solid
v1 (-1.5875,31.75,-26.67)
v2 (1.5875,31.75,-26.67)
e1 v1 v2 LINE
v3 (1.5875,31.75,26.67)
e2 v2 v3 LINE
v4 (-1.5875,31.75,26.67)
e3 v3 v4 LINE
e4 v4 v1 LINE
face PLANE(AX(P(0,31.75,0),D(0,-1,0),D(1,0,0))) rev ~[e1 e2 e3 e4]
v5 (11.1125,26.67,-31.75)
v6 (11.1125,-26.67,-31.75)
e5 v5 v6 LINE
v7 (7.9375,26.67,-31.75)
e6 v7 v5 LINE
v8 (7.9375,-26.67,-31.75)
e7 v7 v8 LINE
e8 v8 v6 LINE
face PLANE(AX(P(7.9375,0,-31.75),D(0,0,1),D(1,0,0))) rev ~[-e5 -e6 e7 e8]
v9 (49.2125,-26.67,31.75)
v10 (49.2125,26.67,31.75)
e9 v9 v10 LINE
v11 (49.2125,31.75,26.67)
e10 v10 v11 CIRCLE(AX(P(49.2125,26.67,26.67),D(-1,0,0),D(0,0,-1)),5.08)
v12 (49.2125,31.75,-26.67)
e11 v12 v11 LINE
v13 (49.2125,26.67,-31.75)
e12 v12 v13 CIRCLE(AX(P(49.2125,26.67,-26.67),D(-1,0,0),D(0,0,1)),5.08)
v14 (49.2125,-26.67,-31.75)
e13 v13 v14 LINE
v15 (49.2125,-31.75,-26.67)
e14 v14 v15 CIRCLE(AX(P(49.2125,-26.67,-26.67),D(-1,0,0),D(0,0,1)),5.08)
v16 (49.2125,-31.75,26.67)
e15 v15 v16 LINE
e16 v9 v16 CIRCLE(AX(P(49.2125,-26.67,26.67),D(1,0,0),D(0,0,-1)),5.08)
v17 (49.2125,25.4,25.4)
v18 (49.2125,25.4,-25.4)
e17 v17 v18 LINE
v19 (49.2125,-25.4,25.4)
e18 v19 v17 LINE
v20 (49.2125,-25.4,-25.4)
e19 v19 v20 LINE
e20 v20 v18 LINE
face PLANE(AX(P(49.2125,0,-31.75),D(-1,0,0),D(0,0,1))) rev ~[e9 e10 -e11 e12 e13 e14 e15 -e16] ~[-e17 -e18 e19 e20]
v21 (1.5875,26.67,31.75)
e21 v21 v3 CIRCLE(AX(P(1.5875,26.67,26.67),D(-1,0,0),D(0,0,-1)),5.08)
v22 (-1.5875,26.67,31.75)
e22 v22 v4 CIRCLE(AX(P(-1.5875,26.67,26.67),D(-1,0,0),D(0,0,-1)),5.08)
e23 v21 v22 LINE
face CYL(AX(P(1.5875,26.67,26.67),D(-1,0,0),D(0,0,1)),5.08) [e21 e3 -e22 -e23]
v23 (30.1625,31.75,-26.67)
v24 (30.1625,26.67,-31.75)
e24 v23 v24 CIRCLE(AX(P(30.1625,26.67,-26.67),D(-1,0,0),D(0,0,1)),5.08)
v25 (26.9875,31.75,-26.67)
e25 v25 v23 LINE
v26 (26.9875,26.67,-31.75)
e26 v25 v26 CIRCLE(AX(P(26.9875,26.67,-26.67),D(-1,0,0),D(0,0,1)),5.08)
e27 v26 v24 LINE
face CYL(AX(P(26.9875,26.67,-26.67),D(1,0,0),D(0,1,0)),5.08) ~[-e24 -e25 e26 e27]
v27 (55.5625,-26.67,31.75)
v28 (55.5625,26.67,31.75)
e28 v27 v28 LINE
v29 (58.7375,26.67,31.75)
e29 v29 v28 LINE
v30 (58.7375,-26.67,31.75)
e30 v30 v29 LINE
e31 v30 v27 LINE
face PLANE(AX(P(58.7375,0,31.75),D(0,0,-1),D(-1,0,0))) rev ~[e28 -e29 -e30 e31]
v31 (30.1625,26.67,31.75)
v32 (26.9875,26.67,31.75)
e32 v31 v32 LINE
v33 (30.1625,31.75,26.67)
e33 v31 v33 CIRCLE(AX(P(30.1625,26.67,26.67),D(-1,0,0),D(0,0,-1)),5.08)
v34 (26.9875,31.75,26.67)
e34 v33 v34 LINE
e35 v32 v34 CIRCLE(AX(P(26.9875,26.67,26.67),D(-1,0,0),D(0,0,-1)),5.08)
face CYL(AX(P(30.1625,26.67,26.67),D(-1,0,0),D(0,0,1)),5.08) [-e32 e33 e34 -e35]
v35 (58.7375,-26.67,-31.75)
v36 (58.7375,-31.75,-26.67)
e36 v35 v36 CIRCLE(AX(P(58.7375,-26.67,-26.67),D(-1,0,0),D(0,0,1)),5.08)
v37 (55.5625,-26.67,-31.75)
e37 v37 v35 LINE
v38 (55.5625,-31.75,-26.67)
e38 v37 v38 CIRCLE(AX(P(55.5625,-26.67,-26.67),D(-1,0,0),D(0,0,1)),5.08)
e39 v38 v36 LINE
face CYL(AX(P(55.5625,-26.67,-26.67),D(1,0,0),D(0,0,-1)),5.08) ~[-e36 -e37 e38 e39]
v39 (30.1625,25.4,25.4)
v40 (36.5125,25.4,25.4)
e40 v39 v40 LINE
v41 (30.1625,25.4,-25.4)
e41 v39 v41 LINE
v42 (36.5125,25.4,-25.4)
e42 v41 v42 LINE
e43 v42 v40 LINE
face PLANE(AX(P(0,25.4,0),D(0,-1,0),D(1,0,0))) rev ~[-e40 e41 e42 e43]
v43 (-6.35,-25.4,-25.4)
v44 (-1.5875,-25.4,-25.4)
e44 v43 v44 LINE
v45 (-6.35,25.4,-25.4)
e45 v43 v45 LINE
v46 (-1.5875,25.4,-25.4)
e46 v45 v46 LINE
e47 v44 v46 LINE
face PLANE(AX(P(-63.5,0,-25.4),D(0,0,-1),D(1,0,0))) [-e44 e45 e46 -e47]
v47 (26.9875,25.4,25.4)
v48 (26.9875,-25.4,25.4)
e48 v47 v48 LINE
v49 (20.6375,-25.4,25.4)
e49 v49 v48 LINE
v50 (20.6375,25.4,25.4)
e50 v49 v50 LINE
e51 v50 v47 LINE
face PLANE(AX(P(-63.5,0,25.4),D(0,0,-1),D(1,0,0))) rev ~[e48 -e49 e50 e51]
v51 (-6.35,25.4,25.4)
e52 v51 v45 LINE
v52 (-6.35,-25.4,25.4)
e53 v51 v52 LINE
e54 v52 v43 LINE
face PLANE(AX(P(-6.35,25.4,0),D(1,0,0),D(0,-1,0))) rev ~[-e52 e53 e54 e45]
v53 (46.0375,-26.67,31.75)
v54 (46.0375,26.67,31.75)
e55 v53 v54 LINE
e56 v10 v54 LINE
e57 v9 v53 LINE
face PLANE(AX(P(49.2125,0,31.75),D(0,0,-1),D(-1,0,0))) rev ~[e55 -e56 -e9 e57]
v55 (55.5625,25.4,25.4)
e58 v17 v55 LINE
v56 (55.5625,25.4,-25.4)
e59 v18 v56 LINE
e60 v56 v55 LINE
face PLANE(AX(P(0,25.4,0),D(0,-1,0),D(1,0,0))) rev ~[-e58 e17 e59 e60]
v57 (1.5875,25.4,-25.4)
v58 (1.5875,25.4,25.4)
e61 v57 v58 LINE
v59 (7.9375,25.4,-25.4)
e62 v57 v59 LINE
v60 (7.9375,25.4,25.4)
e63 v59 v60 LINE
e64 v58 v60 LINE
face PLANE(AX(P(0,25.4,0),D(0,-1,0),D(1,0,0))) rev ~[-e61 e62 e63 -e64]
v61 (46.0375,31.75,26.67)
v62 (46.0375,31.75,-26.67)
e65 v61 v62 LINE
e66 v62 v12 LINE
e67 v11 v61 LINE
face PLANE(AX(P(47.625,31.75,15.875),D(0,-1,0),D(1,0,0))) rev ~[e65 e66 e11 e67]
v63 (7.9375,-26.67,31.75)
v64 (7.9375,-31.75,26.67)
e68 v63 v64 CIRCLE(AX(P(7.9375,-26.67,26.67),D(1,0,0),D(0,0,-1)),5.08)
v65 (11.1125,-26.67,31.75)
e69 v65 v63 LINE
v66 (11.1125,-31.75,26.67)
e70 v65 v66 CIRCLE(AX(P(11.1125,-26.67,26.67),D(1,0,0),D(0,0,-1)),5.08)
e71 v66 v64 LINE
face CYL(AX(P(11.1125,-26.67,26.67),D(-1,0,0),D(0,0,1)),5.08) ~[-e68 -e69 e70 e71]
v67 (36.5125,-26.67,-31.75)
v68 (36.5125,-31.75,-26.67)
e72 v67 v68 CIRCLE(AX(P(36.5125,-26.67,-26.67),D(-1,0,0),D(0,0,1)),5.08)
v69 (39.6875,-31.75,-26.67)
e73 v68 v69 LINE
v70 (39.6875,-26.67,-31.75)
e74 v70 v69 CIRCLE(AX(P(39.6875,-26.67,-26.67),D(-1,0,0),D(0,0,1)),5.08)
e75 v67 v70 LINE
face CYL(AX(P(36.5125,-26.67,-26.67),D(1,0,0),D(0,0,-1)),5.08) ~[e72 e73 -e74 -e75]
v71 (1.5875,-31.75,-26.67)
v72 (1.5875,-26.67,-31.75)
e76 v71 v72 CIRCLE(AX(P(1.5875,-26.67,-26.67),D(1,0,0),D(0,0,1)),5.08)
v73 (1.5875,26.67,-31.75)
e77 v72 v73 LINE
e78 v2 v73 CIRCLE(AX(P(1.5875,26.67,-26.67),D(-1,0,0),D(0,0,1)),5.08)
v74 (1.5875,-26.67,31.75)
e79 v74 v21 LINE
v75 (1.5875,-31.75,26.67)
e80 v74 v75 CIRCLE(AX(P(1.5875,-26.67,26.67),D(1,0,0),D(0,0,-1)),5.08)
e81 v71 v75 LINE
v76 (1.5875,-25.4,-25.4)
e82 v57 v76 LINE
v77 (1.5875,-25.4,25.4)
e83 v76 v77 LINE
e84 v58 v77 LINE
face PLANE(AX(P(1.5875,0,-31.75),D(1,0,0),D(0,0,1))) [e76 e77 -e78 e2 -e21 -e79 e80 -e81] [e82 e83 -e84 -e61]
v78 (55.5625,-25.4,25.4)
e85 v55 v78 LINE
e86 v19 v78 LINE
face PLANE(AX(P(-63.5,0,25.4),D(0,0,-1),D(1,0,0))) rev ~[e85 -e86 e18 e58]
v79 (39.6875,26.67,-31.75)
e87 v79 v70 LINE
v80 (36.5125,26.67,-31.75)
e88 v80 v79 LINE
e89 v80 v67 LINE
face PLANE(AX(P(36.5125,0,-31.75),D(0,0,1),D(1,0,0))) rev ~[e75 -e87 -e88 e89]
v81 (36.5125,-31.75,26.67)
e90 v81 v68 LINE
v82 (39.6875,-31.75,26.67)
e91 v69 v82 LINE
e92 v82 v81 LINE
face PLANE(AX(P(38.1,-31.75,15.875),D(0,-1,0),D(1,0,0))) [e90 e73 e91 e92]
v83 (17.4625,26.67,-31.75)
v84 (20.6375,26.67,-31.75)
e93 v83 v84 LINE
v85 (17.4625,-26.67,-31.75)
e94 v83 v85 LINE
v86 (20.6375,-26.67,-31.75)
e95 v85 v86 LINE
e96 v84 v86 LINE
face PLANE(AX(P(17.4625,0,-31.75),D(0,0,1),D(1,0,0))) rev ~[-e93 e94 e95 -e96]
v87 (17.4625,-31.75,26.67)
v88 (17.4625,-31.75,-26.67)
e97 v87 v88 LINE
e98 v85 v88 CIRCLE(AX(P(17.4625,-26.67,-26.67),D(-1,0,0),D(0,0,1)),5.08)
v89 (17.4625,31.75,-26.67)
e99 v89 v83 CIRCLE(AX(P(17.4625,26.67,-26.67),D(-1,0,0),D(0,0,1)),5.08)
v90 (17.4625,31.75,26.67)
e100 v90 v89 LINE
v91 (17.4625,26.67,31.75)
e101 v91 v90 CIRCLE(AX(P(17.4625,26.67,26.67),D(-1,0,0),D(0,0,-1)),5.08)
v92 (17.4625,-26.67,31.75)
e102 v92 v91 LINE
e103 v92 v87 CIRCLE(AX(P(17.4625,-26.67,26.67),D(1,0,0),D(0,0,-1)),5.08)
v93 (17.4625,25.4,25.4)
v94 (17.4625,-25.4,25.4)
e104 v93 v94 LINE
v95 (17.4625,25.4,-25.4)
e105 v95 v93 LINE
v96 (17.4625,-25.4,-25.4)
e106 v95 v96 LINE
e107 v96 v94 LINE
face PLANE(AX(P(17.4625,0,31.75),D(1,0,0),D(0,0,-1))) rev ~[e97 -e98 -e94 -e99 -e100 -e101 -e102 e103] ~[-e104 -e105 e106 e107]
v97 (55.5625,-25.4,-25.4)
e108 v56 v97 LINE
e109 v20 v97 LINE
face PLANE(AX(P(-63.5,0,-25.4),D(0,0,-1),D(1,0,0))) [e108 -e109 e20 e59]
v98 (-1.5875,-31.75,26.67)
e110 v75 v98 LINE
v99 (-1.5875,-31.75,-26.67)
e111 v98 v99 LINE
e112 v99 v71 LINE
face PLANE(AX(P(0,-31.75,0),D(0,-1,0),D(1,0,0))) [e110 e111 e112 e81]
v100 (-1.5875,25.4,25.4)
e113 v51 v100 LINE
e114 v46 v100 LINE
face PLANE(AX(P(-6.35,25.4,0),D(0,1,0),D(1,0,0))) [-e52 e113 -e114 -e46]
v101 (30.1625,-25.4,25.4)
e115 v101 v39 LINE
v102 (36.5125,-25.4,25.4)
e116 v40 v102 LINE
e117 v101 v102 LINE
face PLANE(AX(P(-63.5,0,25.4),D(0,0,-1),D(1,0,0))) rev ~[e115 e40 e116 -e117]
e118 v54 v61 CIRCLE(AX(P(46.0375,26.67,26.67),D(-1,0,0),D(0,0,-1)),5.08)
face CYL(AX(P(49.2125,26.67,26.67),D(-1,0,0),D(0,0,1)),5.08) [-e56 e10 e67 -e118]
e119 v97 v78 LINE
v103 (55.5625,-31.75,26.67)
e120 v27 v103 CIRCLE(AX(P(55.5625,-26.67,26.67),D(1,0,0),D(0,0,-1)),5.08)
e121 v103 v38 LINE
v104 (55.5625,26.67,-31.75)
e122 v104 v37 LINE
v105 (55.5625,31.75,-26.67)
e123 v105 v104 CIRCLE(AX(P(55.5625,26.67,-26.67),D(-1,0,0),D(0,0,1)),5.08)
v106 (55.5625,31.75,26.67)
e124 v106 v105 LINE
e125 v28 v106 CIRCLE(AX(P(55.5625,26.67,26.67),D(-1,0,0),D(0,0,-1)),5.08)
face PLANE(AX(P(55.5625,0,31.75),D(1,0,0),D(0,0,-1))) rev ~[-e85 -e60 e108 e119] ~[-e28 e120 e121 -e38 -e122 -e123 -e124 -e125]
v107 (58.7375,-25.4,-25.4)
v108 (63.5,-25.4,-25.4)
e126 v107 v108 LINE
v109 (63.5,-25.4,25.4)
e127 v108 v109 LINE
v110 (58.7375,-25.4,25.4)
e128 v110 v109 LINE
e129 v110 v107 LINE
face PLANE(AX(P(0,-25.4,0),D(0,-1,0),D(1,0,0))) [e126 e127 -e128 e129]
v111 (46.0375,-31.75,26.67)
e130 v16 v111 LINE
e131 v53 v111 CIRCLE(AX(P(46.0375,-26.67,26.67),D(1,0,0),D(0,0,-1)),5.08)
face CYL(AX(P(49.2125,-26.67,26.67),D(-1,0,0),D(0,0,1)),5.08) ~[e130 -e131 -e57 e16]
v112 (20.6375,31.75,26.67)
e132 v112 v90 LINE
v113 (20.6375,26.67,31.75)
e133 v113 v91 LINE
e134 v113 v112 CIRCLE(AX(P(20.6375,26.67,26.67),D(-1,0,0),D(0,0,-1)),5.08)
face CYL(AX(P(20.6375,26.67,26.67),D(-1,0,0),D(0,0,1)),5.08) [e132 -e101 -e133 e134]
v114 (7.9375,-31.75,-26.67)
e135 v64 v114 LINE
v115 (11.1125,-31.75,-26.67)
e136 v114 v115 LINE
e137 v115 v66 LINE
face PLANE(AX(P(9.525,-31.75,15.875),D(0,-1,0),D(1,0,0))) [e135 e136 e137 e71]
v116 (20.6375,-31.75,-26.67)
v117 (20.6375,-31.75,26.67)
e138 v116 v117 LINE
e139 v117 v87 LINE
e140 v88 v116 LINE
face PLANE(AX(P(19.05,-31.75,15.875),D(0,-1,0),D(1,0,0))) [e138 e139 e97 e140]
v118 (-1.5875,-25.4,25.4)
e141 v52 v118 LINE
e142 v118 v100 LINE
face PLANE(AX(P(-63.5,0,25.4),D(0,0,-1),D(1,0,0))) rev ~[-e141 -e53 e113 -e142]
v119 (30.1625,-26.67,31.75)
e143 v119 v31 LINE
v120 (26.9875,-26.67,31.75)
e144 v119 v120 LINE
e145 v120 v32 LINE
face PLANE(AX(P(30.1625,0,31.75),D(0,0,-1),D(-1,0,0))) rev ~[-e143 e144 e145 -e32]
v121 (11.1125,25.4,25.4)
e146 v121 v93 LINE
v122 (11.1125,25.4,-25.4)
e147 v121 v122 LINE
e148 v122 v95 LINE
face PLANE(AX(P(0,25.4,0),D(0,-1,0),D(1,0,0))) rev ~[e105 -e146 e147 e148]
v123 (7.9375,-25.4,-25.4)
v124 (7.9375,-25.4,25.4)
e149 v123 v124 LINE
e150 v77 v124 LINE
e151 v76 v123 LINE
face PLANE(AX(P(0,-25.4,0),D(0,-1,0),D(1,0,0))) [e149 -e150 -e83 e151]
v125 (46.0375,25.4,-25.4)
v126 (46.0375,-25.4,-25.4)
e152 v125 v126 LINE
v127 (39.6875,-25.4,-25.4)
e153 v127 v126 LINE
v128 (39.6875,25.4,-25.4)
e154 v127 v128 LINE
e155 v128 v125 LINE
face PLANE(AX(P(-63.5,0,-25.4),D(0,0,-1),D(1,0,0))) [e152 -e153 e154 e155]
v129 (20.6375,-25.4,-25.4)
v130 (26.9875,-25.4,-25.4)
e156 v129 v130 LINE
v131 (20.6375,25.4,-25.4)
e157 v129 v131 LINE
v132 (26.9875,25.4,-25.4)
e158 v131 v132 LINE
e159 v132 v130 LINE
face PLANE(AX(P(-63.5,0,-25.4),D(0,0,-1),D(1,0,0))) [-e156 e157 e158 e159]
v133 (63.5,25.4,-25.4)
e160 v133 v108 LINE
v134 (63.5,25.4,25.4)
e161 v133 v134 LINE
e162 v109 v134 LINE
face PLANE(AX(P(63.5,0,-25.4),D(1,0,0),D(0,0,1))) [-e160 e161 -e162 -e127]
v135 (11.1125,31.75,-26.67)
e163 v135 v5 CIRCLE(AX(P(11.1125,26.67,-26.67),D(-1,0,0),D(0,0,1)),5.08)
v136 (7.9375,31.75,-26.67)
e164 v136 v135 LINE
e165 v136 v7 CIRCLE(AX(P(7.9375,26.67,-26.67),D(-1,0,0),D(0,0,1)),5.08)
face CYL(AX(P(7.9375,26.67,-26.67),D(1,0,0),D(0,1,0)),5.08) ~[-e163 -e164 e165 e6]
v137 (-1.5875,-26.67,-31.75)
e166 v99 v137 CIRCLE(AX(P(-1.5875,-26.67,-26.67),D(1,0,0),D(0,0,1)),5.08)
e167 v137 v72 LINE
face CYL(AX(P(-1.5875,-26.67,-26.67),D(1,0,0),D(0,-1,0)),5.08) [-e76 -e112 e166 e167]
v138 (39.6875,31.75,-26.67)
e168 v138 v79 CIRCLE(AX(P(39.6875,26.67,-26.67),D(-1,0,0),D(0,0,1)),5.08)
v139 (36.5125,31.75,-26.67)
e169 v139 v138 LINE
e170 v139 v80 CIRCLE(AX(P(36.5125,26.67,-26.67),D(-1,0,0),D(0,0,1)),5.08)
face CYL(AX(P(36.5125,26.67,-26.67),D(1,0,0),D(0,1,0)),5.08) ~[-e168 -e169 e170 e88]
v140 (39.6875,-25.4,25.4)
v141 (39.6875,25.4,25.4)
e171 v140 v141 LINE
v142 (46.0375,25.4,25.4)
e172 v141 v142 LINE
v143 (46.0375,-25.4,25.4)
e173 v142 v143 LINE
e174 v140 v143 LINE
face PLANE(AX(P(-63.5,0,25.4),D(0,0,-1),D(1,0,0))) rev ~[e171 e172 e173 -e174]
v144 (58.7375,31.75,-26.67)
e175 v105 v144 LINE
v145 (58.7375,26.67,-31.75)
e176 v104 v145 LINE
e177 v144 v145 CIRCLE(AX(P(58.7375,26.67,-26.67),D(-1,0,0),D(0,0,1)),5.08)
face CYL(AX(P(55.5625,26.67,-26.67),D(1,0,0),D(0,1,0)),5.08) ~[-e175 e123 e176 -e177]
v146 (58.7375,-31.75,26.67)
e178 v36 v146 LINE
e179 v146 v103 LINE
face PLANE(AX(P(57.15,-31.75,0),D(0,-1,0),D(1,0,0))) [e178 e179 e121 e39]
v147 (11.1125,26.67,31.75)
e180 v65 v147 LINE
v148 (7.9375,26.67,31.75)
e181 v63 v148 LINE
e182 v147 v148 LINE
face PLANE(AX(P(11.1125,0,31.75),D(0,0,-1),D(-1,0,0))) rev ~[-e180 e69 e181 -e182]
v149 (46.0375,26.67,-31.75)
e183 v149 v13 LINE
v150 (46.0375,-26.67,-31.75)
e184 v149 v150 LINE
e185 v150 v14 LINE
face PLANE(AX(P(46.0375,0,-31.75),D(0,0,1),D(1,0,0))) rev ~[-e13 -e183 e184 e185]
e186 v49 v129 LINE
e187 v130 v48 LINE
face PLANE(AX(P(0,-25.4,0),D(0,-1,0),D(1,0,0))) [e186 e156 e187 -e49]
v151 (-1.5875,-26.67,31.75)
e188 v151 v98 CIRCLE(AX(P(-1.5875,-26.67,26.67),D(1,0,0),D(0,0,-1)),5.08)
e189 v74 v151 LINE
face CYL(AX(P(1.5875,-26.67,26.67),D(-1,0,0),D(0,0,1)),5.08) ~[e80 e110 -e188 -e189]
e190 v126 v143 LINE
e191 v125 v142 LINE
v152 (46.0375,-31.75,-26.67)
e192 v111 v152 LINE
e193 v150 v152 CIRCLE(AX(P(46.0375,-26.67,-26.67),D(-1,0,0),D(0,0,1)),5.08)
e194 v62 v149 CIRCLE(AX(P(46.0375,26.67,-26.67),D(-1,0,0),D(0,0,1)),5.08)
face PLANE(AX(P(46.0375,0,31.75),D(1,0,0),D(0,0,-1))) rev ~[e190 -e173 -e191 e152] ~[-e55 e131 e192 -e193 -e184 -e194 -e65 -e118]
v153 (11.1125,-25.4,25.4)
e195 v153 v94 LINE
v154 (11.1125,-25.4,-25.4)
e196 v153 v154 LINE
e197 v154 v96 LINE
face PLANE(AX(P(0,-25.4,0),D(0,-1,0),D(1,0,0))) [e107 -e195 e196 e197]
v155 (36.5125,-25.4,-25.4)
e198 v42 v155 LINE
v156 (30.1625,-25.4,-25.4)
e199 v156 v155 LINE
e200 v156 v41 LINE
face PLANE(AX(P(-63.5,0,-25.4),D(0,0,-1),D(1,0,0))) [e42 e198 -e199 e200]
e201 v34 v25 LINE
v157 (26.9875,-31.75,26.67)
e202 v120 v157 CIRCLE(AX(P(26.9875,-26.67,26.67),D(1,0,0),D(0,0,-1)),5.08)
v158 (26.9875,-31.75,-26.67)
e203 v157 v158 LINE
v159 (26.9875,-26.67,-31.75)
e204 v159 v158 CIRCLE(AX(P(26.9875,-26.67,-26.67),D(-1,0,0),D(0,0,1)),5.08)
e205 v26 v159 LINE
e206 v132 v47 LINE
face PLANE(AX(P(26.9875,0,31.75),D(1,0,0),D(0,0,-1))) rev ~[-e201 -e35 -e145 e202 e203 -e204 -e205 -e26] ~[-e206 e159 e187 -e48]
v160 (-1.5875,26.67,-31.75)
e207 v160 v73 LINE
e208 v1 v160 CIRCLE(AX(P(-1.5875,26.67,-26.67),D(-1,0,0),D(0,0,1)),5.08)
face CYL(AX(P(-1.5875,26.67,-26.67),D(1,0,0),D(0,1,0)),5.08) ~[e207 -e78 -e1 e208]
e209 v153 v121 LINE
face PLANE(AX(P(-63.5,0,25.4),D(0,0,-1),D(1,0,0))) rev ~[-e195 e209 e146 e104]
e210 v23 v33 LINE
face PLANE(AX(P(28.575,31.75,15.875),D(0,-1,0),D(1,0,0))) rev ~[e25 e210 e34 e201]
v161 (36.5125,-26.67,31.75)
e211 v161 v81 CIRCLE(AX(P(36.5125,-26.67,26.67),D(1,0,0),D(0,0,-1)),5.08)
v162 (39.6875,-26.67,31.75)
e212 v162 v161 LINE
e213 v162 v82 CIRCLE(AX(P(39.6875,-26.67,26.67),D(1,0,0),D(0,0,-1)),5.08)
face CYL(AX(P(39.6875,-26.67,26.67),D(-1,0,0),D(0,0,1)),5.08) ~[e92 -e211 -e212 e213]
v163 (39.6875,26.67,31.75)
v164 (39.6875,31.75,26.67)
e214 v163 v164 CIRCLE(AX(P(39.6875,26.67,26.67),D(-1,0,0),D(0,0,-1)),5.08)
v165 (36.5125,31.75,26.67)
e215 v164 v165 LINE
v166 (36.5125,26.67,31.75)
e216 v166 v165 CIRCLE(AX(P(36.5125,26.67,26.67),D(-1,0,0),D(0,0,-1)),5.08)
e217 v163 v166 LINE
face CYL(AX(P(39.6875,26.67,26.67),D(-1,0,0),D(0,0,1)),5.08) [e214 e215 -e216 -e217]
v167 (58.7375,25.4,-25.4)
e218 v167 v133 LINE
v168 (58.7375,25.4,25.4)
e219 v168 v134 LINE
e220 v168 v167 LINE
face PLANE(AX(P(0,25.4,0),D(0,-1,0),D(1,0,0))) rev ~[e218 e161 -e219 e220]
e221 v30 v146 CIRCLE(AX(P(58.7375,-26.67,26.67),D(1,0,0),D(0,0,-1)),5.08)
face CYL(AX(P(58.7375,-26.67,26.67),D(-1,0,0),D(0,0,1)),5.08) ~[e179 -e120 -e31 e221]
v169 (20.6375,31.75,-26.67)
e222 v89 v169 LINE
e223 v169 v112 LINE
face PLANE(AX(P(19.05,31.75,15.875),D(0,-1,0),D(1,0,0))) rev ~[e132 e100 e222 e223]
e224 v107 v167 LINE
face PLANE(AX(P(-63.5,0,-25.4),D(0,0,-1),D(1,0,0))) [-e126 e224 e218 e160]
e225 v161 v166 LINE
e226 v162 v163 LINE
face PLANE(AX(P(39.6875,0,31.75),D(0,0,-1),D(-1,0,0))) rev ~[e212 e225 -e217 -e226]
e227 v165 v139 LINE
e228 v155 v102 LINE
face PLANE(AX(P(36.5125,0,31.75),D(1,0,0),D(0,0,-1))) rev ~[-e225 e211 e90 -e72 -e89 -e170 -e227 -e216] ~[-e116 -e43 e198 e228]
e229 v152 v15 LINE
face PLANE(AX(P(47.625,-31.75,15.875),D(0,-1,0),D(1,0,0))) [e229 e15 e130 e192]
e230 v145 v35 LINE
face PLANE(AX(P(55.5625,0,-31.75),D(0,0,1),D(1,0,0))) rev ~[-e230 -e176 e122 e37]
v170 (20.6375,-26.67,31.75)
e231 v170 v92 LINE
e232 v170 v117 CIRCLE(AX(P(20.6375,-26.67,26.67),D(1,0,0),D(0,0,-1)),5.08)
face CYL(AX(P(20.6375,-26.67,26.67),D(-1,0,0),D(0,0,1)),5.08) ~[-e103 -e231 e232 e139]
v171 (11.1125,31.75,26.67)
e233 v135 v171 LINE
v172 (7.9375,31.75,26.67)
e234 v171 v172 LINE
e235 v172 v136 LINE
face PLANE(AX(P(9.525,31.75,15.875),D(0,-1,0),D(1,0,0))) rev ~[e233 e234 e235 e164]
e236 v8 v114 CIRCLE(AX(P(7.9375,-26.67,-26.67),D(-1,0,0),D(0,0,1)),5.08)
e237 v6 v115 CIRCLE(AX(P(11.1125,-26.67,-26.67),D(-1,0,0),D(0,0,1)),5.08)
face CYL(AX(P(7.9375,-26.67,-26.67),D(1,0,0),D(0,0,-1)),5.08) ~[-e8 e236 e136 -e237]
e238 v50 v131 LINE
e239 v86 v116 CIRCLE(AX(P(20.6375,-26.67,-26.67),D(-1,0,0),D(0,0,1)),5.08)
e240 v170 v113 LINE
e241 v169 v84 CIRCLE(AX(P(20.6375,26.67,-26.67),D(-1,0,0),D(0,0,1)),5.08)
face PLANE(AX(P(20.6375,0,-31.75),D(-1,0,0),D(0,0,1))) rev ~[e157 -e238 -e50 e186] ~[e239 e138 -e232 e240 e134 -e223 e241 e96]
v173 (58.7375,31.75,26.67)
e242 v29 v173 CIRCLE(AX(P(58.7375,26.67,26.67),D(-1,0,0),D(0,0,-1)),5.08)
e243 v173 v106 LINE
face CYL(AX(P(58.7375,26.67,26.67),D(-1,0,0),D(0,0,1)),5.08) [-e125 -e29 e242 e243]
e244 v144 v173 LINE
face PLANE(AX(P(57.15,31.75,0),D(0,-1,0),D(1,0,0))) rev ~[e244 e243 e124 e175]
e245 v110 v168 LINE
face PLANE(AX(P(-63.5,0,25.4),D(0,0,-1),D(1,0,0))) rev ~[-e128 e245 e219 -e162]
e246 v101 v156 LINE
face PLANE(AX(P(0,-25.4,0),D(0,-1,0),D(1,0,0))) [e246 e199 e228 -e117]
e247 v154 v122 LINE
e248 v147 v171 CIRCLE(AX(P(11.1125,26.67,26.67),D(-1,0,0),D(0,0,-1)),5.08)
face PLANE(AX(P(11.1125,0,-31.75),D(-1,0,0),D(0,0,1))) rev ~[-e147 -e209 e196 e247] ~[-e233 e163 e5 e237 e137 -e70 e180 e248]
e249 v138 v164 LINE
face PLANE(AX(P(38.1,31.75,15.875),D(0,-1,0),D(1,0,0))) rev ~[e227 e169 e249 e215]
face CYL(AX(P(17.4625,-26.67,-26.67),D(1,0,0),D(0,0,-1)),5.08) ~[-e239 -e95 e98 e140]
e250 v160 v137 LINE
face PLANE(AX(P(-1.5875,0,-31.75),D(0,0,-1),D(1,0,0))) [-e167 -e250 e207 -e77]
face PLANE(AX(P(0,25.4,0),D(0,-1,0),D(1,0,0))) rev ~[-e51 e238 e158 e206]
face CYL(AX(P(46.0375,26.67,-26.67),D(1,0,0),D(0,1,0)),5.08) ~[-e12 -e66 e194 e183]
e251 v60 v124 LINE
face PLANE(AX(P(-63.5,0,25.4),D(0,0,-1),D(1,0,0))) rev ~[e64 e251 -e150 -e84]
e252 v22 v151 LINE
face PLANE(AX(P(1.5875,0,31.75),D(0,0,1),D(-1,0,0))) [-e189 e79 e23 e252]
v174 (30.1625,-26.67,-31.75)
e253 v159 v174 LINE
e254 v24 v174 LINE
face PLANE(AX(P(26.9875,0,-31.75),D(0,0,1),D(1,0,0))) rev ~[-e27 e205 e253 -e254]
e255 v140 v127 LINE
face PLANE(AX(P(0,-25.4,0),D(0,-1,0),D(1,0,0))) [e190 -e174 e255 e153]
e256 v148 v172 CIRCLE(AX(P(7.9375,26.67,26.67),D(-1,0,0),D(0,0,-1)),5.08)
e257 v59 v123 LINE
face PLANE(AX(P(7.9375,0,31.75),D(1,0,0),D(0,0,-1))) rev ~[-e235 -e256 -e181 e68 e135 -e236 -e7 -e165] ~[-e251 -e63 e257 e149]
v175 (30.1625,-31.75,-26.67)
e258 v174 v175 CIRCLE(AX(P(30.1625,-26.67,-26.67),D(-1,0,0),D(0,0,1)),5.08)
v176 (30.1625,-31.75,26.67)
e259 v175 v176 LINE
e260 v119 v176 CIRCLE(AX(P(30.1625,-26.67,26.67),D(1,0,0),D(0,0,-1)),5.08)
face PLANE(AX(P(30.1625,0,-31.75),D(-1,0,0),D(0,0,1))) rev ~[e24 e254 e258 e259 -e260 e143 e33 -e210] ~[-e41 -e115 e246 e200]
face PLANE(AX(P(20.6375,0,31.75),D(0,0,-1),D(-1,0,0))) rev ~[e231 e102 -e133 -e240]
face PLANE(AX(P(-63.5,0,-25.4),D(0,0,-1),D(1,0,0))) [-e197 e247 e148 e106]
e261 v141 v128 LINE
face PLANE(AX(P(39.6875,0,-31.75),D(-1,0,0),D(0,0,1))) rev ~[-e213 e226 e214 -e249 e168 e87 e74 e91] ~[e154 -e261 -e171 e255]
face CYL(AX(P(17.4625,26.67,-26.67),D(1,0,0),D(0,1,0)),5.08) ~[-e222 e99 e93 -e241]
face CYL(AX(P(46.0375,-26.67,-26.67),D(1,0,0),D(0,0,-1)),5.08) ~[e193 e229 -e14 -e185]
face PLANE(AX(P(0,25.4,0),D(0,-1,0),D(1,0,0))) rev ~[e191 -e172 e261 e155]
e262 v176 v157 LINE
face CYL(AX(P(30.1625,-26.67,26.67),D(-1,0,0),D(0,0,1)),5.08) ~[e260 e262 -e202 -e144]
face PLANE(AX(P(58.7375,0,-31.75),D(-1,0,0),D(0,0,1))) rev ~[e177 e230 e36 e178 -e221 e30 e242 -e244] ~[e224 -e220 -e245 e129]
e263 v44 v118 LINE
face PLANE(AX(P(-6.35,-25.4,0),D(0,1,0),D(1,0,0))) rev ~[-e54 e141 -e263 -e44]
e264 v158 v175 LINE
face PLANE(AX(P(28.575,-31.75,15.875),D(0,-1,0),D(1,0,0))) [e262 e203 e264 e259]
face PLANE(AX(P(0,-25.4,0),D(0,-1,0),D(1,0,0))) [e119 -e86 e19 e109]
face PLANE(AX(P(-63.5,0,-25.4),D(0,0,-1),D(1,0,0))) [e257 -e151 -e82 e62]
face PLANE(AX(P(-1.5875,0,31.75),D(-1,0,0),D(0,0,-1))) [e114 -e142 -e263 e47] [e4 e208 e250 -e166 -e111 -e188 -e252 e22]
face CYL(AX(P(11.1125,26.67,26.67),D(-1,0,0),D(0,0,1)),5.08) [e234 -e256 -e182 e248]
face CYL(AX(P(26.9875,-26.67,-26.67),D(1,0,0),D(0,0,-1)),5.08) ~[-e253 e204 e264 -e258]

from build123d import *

# Parameters (mm, degrees)
F0_W      = 127
F0_H      = 50.8
F1_DEPTH  = 25.4
F3_DEPTH  = 31.75
F4_R      = 5.08
F5_R      = 5.08
F6_R      = 5.08
F7_R      = 5.08
F9_DEPTH  = 25.4
F8_W      = 57.15
F8_H      = 25.4
F10_DEPTH = 25.4
F11_W     = 57.15
F11_H     = 25.4
F12_DEPTH = 25.4
F13_DEPTH = 25.4
F14_R     = 5.08


with BuildPart() as f1:
    # F0 (on Front) → F1 (new body, symmetric)
    with BuildSketch(Plane.XZ):
        Rectangle(F0_W, F0_H)
    extrude(amount=F1_DEPTH, both=True)

    # F2 (on Front) → F3 (join, symmetric)
    with BuildSketch(Plane.XZ):
        Polygon((55.5625, 31.75), (55.5625, 0), (55.5625, -31.75), (58.7375, -31.75), (58.7375, 31.75), align=None)
        Polygon((46.0375, 31.75), (46.0375, 0), (47.625, 0), (49.2125, 0), (49.2125, 31.75), align=None)
        Polygon((36.5125, 31.75), (36.5125, 0), (38.1, 0), (39.6875, 0), (39.6875, 31.75), align=None)
        Polygon((26.9875, 31.75), (26.9875, 0), (28.575, 0), (30.1625, 0), (30.1625, 31.75), align=None)
        Polygon((17.4625, 31.75), (17.4625, 0), (19.05, 0), (20.6375, 0), (20.6375, 31.75), align=None)
        Polygon((7.9375, 31.75), (7.9375, 0), (9.525, 0), (11.1125, 0), (11.1125, 31.75), align=None)
        Polygon((1.5875, 31.75), (-1.5875, 31.75), (-1.5875, -31.75), (1.5875, -31.75), (1.5875, 0), align=None)
        Polygon((9.525, 0), (7.9375, 0), (7.9375, -31.75), (11.1125, -31.75), (11.1125, 0), align=None)
        Polygon((19.05, 0), (17.4625, 0), (17.4625, -31.75), (20.6375, -31.75), (20.6375, 0), align=None)
        Polygon((28.575, 0), (26.9875, 0), (26.9875, -31.75), (30.1625, -31.75), (30.1625, 0), align=None)
        Polygon((38.1, 0), (36.5125, 0), (36.5125, -31.75), (39.6875, -31.75), (39.6875, 0), align=None)
        Polygon((47.625, 0), (46.0375, 0), (46.0375, -31.75), (49.2125, -31.75), (49.2125, 0), align=None)
    extrude(amount=F3_DEPTH, both=True)

    # F4
    f4_edges = [f1.edges().sort_by_distance(p)[0] for p in [
        (0, -31.75, 31.75),
        (9.525, -31.75, 31.75),
        (19.05, -31.75, 31.75),
        (28.575, -31.75, 31.75),
        (38.1, -31.75, 31.75),
        (47.625, -31.75, 31.75),
        (57.15, -31.75, 31.75),
    ]]
    fillet(f4_edges, radius=F4_R)

    # F5
    f5_edges = [f1.edges().sort_by_distance(p)[0] for p in [
        (0, 31.75, 31.75),
        (9.525, 31.75, 31.75),
        (19.05, 31.75, 31.75),
        (28.575, 31.75, 31.75),
        (38.1, 31.75, 31.75),
        (47.625, 31.75, 31.75),
        (57.15, 31.75, 31.75),
    ]]
    fillet(f5_edges, radius=F5_R)

    # F6
    f6_edges = [f1.edges().sort_by_distance(p)[0] for p in [
        (57.15, 31.75, -31.75),
        (47.625, 31.75, -31.75),
        (38.1, 31.75, -31.75),
        (19.05, 31.75, -31.75),
        (28.575, 31.75, -31.75),
        (9.525, 31.75, -31.75),
        (0, 31.75, -31.75),
    ]]
    fillet(f6_edges, radius=F6_R)

    # F7
    f7_edges = [f1.edges().sort_by_distance(p)[0] for p in [
        (9.525, -31.75, -31.75),
        (19.05, -31.75, -31.75),
        (28.575, -31.75, -31.75),
        (38.1, -31.75, -31.75),
        (47.625, -31.75, -31.75),
        (57.15, -31.75, -31.75),
    ]]
    fillet(f7_edges, radius=F7_R)

    # F9 (cut): a face of the model
    f9_faces = [f1.faces().sort_by_distance(p)[0] for p in [
        (-32.54375, 0, 25.4),
    ]]
    extrude(f9_faces, amount=-F9_DEPTH, mode=Mode.SUBTRACT)

    # F8 (on Top) → F10 (cut)
    with BuildSketch(Plane.XY):
        with Locations((-34.925, 12.7)):
            Rectangle(F8_W, F8_H)
    extrude(amount=-F10_DEPTH, mode=Mode.SUBTRACT)

    # F11 (on Top) → F12 (cut)
    with BuildSketch(Plane.XY):
        with Locations((-34.925, -12.7)):
            Rectangle(F11_W, F11_H)
    extrude(amount=-F12_DEPTH, mode=Mode.SUBTRACT)

    # F13 (add): a face of the model
    f13_faces = [f1.faces().sort_by_distance(p)[0] for p in [
        (-3.96875, 0, 0),
    ]]
    extrude(f13_faces, amount=F13_DEPTH)

    # F14
    f14_edges = [f1.edges().sort_by_distance(p)[0] for p in [
        (0, -31.75, -31.75),
    ]]
    fillet(f14_edges, radius=F14_R)


solid = f1.part
